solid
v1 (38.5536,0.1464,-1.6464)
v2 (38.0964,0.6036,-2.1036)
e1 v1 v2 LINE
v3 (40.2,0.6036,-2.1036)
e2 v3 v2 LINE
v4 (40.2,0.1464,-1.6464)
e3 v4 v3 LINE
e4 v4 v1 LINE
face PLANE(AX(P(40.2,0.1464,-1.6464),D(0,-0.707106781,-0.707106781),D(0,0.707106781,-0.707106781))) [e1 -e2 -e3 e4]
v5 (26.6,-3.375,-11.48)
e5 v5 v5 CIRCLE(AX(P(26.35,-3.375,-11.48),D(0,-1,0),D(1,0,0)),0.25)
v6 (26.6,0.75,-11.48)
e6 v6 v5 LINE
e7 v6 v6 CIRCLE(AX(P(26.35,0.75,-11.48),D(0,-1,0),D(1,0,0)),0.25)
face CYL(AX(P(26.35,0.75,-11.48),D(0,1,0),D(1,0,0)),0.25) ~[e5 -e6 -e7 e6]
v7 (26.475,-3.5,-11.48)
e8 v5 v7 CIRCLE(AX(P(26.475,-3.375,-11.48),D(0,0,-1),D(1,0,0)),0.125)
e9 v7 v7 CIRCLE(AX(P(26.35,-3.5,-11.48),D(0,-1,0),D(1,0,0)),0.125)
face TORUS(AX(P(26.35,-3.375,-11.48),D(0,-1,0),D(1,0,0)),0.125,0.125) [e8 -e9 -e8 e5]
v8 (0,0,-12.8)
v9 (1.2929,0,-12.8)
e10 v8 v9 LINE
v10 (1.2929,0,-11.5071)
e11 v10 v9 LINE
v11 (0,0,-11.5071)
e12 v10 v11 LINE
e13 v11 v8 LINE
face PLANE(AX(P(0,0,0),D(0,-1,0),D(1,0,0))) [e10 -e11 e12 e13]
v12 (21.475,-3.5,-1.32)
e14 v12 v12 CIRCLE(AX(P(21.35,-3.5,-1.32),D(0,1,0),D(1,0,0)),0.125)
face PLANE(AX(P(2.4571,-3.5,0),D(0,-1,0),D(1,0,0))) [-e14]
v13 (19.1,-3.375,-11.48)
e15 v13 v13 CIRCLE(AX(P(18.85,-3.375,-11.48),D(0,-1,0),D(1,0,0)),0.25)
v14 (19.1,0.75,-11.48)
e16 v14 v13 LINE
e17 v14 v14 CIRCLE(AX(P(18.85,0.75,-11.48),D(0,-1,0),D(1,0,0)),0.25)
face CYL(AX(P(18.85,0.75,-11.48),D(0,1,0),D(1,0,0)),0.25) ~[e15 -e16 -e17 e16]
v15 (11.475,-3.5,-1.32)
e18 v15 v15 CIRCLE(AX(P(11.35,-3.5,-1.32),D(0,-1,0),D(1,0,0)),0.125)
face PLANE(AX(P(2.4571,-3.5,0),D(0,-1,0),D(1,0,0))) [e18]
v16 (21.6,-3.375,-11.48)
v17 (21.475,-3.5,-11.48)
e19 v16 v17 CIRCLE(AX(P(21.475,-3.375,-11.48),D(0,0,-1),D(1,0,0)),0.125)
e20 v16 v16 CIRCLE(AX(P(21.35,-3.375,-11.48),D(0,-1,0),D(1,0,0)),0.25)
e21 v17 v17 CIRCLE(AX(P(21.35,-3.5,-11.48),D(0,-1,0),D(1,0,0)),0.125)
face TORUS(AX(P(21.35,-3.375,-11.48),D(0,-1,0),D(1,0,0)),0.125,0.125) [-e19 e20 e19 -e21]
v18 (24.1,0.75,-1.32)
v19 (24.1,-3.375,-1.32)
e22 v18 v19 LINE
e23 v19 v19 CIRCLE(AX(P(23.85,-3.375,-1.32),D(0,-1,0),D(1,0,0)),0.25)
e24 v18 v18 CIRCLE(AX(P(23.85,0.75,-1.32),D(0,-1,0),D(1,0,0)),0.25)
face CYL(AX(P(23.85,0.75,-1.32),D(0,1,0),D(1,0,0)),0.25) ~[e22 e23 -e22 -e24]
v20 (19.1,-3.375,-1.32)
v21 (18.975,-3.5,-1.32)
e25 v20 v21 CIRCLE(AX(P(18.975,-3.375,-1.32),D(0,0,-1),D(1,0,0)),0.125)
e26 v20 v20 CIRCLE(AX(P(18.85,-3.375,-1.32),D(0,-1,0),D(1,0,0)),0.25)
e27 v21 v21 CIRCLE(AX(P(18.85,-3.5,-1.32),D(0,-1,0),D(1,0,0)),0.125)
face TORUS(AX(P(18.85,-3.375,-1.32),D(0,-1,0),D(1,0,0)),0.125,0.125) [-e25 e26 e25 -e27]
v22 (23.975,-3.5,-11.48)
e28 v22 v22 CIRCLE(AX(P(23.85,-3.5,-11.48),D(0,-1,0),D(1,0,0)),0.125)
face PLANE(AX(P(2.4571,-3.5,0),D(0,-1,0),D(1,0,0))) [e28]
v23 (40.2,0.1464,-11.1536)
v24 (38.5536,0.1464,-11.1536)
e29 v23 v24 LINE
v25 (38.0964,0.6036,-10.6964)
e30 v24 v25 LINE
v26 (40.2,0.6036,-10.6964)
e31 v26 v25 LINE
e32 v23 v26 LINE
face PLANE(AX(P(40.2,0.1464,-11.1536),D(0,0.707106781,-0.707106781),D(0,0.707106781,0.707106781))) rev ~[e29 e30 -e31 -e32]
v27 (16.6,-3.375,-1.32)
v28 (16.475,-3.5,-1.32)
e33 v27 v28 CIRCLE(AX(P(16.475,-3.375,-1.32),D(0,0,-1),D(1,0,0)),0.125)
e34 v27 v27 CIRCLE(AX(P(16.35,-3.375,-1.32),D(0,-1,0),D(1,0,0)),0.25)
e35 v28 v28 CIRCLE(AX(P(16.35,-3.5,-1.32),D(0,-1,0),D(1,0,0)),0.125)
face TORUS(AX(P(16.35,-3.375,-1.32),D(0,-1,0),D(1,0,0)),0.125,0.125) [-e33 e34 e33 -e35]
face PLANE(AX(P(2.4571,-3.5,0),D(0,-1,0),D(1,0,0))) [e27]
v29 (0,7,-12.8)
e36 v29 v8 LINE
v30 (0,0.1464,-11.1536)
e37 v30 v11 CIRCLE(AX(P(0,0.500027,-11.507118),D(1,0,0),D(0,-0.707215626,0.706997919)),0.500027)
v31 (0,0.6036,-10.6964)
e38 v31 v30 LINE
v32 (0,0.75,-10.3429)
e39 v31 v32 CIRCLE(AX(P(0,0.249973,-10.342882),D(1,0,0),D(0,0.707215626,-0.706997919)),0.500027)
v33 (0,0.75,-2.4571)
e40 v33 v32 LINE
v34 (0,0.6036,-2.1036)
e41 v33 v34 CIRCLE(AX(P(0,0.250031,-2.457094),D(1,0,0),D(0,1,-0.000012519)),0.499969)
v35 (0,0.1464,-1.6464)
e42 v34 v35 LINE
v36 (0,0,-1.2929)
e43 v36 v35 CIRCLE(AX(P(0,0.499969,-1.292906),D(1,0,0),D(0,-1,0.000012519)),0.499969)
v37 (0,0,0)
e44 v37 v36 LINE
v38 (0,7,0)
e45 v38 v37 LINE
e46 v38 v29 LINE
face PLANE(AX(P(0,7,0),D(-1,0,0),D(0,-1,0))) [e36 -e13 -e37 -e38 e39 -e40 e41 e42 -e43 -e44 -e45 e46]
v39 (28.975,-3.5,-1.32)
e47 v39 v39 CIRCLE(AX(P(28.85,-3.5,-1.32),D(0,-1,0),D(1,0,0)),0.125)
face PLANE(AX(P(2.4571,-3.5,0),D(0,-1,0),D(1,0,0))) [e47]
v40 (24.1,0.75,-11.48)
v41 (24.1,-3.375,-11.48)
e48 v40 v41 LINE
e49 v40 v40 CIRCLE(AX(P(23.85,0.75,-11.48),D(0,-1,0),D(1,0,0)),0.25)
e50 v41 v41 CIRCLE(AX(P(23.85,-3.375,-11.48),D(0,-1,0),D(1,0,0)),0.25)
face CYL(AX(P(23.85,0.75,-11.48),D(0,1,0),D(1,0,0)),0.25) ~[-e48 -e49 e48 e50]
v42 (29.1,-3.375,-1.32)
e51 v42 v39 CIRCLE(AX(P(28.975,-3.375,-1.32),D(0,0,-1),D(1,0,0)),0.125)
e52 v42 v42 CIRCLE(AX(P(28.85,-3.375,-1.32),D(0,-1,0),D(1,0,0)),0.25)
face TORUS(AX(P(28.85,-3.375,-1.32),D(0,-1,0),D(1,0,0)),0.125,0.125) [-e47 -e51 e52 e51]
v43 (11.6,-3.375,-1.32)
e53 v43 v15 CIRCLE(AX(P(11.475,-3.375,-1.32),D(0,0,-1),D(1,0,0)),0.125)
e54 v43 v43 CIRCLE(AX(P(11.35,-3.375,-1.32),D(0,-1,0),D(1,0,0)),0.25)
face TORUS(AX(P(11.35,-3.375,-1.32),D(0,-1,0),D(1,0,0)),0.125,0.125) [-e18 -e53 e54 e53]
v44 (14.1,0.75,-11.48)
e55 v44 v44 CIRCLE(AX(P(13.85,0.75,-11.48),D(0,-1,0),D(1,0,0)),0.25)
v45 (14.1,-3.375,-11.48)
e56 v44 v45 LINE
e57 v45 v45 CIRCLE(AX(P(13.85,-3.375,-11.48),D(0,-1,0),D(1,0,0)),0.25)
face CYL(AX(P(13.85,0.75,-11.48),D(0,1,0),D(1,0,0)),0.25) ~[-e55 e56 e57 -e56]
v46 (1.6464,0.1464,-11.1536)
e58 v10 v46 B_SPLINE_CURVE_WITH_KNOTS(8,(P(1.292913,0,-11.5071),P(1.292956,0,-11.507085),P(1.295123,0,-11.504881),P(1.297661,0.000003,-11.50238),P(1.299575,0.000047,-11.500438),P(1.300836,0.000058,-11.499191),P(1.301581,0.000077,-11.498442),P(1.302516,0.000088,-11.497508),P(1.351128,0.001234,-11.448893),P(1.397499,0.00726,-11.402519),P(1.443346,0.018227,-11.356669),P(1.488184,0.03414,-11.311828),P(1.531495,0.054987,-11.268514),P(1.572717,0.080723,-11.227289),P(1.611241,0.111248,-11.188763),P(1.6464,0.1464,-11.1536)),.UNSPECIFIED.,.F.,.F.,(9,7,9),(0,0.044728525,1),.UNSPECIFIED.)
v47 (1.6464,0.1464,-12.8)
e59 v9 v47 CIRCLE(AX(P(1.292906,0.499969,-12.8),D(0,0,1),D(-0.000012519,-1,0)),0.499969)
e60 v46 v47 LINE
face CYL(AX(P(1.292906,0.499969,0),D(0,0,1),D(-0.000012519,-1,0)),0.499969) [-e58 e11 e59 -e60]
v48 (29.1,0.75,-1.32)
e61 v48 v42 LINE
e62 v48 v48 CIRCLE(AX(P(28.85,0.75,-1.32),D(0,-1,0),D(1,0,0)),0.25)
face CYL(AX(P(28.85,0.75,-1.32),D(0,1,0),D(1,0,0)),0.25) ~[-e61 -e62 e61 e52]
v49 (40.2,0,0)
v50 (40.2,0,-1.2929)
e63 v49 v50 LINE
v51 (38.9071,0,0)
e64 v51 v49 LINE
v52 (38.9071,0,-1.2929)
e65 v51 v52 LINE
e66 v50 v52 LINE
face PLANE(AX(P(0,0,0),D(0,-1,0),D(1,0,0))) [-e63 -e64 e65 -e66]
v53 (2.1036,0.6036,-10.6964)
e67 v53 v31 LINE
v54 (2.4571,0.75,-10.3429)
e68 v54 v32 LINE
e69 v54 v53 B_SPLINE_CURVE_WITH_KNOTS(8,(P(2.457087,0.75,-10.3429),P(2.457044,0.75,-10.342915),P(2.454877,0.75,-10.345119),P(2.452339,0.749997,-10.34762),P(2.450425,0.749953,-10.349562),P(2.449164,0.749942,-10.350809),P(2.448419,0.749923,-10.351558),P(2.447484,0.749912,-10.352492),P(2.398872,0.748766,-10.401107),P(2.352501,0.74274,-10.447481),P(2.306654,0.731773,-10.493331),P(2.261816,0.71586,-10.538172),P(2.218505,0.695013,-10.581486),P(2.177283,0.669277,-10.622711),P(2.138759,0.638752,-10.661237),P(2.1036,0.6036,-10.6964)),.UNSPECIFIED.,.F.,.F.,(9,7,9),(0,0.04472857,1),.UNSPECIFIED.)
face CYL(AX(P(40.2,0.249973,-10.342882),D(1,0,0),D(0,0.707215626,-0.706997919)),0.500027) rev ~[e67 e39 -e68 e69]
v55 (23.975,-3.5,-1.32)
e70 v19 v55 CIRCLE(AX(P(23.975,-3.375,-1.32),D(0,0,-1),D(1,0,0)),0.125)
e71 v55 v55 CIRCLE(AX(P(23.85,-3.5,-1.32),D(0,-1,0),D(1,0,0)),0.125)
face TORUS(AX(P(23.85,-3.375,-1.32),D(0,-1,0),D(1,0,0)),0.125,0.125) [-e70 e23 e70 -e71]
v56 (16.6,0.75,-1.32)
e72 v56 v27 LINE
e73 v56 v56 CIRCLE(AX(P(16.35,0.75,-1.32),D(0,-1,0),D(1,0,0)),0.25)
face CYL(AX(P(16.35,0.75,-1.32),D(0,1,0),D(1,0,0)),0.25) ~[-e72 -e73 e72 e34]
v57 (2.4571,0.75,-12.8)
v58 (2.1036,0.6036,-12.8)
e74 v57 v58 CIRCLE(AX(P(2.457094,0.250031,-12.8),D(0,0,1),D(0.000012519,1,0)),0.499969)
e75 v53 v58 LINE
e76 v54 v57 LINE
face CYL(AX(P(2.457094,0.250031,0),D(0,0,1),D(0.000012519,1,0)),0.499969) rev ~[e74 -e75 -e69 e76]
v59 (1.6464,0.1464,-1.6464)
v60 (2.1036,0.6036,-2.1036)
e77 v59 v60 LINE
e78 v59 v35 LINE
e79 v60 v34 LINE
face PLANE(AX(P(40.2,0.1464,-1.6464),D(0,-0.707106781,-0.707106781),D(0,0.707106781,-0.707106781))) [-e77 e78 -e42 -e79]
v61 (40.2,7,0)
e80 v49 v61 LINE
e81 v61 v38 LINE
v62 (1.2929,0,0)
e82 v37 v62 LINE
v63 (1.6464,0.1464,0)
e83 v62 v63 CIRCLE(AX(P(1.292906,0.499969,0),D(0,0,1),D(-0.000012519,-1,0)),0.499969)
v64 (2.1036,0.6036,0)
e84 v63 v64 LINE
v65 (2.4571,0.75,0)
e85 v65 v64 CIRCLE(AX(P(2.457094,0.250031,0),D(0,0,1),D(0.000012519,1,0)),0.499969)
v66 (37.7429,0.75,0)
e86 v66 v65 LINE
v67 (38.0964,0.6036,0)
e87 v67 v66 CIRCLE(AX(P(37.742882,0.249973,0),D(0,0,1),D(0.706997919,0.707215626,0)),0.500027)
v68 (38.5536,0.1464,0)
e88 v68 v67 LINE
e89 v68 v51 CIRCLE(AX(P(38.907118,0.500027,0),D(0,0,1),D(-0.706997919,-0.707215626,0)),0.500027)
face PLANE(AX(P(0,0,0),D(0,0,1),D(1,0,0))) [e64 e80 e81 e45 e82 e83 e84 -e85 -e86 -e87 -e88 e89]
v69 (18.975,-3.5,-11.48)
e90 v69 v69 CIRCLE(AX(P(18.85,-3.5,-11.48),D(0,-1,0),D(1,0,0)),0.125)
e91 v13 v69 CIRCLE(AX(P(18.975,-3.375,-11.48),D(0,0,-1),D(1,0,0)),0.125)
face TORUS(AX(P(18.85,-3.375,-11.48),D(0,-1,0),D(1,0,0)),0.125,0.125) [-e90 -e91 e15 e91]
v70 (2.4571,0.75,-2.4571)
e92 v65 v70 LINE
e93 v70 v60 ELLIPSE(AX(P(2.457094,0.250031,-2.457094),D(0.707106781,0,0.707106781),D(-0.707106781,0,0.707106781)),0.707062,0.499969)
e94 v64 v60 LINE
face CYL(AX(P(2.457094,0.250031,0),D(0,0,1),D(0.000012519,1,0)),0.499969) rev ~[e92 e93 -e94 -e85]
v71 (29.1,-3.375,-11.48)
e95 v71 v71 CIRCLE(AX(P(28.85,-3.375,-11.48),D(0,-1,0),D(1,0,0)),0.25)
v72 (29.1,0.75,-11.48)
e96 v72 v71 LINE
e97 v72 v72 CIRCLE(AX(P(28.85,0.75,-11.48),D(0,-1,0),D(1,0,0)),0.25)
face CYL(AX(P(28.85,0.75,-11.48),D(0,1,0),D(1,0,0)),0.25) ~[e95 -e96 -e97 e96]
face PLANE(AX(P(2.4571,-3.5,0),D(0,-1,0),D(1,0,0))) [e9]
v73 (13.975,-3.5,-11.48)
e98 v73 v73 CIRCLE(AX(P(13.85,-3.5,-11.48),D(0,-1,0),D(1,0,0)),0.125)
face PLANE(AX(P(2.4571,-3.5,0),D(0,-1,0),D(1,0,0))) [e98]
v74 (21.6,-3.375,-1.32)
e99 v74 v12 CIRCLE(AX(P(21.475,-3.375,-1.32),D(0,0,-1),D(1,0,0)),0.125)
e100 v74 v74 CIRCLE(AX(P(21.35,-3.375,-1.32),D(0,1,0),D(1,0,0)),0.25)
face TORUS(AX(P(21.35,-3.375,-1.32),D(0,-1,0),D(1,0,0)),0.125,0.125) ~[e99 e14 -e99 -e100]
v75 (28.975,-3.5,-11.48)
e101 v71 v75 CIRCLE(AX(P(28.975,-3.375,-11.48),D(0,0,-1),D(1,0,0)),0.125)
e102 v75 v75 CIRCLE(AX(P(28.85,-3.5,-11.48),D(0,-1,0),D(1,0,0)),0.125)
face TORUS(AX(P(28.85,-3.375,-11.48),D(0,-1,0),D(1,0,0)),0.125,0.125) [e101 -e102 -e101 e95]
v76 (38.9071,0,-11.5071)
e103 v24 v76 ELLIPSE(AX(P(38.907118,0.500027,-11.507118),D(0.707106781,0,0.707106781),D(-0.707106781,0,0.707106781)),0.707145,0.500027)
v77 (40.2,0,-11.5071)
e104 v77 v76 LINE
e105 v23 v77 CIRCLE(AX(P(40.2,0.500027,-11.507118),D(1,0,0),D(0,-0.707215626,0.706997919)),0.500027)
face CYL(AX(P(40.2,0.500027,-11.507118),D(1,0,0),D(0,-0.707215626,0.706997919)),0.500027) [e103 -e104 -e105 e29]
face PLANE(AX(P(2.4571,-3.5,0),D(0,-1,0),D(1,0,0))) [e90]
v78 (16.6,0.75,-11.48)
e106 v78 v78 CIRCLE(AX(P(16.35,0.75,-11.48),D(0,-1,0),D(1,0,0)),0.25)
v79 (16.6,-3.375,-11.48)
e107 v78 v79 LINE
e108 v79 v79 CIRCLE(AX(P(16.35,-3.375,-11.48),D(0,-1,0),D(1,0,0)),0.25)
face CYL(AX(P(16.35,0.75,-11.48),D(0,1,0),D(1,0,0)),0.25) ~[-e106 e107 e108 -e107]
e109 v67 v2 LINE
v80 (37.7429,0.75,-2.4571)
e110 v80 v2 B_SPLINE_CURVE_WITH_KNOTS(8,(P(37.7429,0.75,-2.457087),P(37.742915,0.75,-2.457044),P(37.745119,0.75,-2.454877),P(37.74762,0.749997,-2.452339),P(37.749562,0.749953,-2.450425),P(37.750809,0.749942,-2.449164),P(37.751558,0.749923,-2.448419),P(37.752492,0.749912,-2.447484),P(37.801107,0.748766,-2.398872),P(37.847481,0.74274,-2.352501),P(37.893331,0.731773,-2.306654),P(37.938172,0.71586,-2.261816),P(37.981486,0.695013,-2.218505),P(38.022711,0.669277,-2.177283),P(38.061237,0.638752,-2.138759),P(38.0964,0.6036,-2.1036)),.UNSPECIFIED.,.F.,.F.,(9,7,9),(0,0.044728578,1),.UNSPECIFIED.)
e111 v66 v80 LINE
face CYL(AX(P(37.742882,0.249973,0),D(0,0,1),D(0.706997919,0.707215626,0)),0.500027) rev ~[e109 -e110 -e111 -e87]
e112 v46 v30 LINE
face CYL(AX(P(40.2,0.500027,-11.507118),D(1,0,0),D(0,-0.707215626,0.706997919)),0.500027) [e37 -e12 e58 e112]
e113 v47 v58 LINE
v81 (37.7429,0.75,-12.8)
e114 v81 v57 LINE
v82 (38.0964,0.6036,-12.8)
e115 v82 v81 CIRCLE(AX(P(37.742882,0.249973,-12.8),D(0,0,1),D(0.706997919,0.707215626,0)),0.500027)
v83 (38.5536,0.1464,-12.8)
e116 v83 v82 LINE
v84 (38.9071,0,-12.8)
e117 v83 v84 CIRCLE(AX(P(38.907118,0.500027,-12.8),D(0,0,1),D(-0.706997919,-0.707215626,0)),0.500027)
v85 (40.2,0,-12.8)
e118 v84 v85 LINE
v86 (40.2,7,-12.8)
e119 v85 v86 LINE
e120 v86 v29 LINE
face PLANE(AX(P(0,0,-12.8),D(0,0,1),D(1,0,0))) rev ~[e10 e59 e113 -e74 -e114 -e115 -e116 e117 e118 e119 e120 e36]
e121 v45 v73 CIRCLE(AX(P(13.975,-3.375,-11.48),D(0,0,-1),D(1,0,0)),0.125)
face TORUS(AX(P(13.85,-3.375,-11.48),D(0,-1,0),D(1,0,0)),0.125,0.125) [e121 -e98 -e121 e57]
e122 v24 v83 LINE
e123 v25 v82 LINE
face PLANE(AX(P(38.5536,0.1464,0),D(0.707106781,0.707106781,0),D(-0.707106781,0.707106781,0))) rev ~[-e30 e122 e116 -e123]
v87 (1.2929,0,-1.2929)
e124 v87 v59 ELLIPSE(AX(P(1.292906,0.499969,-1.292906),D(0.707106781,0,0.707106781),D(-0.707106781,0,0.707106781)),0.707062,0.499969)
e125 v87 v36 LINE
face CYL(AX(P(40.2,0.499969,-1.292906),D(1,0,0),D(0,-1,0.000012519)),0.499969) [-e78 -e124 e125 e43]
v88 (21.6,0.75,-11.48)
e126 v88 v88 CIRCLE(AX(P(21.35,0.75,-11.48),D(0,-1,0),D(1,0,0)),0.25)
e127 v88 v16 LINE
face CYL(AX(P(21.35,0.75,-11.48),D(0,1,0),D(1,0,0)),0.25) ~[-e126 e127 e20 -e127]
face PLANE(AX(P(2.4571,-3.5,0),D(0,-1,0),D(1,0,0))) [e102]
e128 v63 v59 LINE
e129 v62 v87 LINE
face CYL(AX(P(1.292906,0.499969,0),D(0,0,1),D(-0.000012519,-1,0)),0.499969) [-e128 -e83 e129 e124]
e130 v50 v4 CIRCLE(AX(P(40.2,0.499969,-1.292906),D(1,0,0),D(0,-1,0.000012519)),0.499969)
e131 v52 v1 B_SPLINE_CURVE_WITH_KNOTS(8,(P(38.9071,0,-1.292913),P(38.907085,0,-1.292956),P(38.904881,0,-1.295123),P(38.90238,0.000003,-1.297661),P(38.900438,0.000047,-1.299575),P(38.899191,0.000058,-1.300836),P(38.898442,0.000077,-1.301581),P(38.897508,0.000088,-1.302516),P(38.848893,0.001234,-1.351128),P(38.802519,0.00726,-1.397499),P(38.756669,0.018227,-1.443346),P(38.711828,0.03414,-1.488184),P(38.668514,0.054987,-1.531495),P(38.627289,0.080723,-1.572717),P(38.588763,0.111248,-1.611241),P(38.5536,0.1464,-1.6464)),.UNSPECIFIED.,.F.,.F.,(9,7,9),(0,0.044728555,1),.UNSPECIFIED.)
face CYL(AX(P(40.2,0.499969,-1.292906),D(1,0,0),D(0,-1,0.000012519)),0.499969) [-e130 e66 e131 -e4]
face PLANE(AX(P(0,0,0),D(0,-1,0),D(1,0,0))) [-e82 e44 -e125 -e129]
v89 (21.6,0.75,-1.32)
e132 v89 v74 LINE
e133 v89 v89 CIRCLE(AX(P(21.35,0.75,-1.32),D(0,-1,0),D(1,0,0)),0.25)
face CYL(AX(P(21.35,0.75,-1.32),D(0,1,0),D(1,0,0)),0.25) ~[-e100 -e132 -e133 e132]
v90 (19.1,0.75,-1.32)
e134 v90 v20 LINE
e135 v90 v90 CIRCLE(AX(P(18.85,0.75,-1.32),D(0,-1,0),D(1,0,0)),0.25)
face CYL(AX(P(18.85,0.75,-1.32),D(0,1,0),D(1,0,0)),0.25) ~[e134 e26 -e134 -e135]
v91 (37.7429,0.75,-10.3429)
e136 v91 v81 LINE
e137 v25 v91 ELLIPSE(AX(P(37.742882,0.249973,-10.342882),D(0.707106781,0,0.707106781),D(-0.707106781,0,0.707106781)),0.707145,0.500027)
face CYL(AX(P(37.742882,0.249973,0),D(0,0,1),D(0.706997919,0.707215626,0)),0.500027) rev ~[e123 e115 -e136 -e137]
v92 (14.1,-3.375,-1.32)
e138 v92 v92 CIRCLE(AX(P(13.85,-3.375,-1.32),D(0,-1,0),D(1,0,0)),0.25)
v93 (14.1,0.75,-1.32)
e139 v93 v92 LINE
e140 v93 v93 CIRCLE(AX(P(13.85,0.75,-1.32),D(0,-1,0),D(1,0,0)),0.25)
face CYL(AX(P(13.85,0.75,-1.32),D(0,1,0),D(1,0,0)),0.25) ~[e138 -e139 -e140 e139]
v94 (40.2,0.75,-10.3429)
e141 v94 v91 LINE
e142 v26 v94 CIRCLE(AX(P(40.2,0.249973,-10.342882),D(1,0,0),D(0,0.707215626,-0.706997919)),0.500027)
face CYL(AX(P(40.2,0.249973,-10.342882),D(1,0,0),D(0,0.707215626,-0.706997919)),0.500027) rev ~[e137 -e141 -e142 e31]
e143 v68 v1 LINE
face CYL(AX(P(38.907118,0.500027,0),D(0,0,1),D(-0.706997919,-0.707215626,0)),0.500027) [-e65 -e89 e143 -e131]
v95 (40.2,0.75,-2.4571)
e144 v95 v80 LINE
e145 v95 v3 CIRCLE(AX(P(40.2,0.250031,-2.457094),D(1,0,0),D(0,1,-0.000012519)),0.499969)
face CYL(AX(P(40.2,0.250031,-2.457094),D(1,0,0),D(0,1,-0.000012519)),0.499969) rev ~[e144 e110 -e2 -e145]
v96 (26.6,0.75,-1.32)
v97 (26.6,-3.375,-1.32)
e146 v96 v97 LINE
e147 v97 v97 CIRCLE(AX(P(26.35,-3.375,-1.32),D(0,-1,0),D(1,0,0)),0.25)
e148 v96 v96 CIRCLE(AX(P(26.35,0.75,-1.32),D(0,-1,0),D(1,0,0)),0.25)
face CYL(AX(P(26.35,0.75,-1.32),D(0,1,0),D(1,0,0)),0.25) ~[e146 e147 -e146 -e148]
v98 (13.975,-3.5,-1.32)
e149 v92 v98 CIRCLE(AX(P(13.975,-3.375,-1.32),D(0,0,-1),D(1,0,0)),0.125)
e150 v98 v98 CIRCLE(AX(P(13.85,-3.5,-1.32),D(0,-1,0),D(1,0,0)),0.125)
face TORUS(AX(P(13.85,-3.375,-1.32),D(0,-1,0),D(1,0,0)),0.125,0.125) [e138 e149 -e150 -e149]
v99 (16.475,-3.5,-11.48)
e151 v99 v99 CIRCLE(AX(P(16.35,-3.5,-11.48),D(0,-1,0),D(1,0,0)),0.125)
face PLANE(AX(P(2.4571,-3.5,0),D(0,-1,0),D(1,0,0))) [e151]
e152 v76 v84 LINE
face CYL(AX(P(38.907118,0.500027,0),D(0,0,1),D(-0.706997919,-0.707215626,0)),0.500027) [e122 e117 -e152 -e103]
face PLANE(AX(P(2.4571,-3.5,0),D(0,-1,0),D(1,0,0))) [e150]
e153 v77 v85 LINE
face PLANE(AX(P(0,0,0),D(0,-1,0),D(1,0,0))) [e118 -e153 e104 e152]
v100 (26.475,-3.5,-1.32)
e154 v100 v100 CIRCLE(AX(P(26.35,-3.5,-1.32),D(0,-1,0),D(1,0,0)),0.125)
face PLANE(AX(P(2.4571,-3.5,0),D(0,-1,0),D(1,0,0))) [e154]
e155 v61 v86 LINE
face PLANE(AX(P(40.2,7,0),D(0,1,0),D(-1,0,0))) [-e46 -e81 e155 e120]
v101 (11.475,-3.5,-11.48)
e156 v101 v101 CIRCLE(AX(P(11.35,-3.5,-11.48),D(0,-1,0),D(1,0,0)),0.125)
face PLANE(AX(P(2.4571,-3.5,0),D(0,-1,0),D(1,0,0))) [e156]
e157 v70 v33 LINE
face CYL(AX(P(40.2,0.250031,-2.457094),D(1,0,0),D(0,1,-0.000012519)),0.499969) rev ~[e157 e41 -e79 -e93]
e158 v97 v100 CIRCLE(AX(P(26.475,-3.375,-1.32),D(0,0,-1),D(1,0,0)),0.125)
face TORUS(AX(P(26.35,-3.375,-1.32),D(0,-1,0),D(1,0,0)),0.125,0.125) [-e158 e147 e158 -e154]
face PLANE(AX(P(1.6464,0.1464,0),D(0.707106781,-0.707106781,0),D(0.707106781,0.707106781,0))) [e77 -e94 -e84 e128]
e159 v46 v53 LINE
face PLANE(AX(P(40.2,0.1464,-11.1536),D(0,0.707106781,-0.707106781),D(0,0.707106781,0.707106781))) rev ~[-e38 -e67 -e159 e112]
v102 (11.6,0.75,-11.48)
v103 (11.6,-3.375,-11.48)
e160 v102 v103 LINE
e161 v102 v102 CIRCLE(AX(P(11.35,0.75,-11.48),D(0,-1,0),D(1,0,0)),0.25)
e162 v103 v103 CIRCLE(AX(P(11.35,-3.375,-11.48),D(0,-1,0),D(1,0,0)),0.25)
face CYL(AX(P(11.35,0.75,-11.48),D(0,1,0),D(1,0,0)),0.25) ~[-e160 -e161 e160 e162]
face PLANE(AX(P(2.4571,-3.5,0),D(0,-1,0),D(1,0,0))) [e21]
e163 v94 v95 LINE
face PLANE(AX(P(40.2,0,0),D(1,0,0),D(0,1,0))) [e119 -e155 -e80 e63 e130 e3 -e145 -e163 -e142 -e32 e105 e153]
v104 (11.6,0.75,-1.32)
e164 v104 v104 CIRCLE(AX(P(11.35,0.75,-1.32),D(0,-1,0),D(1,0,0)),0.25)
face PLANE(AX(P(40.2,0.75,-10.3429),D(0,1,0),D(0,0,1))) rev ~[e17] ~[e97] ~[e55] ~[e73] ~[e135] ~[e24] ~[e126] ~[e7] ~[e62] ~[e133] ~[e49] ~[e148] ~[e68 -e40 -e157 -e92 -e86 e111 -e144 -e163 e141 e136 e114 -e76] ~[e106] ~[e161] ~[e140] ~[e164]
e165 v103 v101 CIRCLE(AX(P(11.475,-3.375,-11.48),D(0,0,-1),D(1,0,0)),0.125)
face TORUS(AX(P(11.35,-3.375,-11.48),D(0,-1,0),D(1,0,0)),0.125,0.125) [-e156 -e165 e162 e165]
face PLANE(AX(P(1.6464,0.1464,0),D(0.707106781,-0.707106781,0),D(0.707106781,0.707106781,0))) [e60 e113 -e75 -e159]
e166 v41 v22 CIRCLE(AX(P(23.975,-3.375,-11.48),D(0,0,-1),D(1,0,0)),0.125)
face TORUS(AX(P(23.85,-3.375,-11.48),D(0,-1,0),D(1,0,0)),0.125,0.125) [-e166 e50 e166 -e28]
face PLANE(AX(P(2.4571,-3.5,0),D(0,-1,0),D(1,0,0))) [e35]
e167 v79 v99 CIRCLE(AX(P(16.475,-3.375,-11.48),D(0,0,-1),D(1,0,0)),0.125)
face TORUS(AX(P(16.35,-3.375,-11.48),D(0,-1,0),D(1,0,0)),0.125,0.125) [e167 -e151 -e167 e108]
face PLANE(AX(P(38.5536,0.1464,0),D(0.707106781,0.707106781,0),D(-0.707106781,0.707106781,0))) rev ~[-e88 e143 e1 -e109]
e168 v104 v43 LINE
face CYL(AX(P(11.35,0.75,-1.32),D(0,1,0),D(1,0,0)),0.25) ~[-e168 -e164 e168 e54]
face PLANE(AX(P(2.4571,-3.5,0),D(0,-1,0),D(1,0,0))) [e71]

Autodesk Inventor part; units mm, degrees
ref_plane "YZ Plane" through (0, 0, 0) normal (1, 0, 0) x (0, 1, 0)
ref_plane "XZ Plane" through (0, 0, 0) normal (0, 1, 0) x (-1, 0, 0)
ref_plane "XY Plane" through (0, 0, 0) normal (0, 0, 1) x (1, 0, 0)
sketch "Sketch1" plane through (0, 0, 0) normal (0, 0, 1) x (1, 0, 0)
  line L0 (0, 0) -> (40.2, 0)
  line L1 (40.2, 0) -> (40.2, 7)
  line L2 (40.2, 7) -> (0, 7)
  line L3 (0, 7) -> (0, 0)
extrude "Extrusion1" add sketch "Sketch1" against normal blind 12.8
sketch "Sketch2" plane through (0, 0, 0) normal (0, 0, 1) x (1, 0, 0)
  line L0 (40.2, 0) -> (0, 0) projected
  line L1 (0, 0) -> (1.2929, 0)
  line L2 (40.2, 7) -> (40.2, 0) projected
  line L3 (40.2, 0) -> (38.9071, 0)
  line L4 (1.5, 0) -> (38.7, 0)
  line L5 (37.7429, 0.75) -> (2.4571, 0.75)
  line L6 (38.5536, 0.1464) -> (38.0964, 0.6036)
  line L7 (1.6464, 0.1464) -> (2.1036, 0.6036)
  arc A0 (2.4571, 0.75) -> (2.1036, 0.6036) centre (2.4571, 0.25) ccw
  arc A1 (1.2929, 0) -> (1.6464, 0.1464) centre (1.2929, 0.5) ccw
  arc A2 (38.0964, 0.6036) -> (37.7429, 0.75) centre (37.7429, 0.25) ccw
  arc A3 (38.5536, 0.1464) -> (38.9071, 0) centre (38.9071, 0.5) ccw
  line L8 (38.9071, 0) -> (1.2929, 0)
  dimension "d2" = 0.5
extrude "Extrusion2" cut sketch "Sketch2" against normal through all
sketch "Sketch3" plane through (40.2, 0, 0) normal (1, 0, 0) x (0, 0, -1)
  line L0 (0, 0) -> (12.8, 0) projected
  line L1 (0, 0) -> (1.2929, 0)
  line L2 (12.8, 0) -> (11.5071, 0)
  line L3 (1.5, 0) -> (11.3, 0)
  line L4 (10.3429, 0.75) -> (2.4571, 0.75)
  line L5 (11.1536, 0.1464) -> (10.6964, 0.6036)
  line L6 (1.6464, 0.1464) -> (2.1036, 0.6036)
  arc A0 (2.4571, 0.75) -> (2.1036, 0.6036) centre (2.4571, 0.25) ccw
  arc A1 (1.2929, 0) -> (1.6464, 0.1464) centre (1.2929, 0.5) ccw
  arc A2 (10.6964, 0.6036) -> (10.3429, 0.75) centre (10.3429, 0.25) ccw
  arc A3 (11.1536, 0.1464) -> (11.5071, 0) centre (11.5071, 0.5) ccw
  line L7 (1.2929, 0) -> (11.5071, 0)
  dimension "d5" = 0.5
extrude "Extrusion3" cut sketch "Sketch3" against normal through all
sketch "Sketch4" plane through (2.4571, 0.75, 0) normal (0, -1, 0) x (1, 0, 0)
  line L0 (37.7429, -2.4571) -> (37.7429, -10.3429) projected
  line L1 (-2.4571, 0) -> (-2.4571, -12.8) projected
  line L2 (17.6429, -1.32) -> (18.8929, -1.32)
  line L3 (17.6429, -1.32) -> (16.3929, -1.32)
  circle A0 centre (18.8929, -1.32) radius 0.25
  circle A1 centre (21.3929, -1.32) radius 0.25
  circle A2 centre (23.8929, -1.32) radius 0.25
  circle A3 centre (26.3929, -1.32) radius 0.25
  circle A4 centre (16.3929, -1.32) radius 0.25
  circle A5 centre (13.8929, -1.32) radius 0.25
  circle A6 centre (11.3929, -1.32) radius 0.25
  circle A7 centre (8.8929, -1.32) radius 0.25
  circle A8 centre (18.8929, -11.48) radius 0.25
  circle A9 centre (21.3929, -11.48) radius 0.25
  circle A10 centre (23.8929, -11.48) radius 0.25
  circle A11 centre (26.3929, -11.48) radius 0.25
  circle A12 centre (16.3929, -11.48) radius 0.25
  circle A13 centre (13.8929, -11.48) radius 0.25
  circle A14 centre (11.3929, -11.48) radius 0.25
  circle A15 centre (8.8929, -11.48) radius 0.25
  dimension "d10" = 2.5
  dimension "d17" = 2.5
extrude "Extrusion4" add sketch "Sketch4" along normal blind 4.25
fillet "Fillet1" radius 0.125 16 edges at (28.6, -3.5, -11.48) (26.1, -3.5, -11.48) (23.6, -3.5, -11.48) (21.1, -3.5, -11.48) (18.6, -3.5, -11.48) (16.1, -3.5, -11.48) (13.6, -3.5, -11.48) (11.1, -3.5, -11.48) (11.1, -3.5, -1.32) (13.6, -3.5, -1.32) (16.1, -3.5, -1.32) (18.6, -3.5, -1.32) (21.1, -3.5, -1.32) (23.6, -3.5, -1.32) (26.1, -3.5, -1.32) (28.6, -3.5, -1.32)
properties part number "TDCR1050M"
